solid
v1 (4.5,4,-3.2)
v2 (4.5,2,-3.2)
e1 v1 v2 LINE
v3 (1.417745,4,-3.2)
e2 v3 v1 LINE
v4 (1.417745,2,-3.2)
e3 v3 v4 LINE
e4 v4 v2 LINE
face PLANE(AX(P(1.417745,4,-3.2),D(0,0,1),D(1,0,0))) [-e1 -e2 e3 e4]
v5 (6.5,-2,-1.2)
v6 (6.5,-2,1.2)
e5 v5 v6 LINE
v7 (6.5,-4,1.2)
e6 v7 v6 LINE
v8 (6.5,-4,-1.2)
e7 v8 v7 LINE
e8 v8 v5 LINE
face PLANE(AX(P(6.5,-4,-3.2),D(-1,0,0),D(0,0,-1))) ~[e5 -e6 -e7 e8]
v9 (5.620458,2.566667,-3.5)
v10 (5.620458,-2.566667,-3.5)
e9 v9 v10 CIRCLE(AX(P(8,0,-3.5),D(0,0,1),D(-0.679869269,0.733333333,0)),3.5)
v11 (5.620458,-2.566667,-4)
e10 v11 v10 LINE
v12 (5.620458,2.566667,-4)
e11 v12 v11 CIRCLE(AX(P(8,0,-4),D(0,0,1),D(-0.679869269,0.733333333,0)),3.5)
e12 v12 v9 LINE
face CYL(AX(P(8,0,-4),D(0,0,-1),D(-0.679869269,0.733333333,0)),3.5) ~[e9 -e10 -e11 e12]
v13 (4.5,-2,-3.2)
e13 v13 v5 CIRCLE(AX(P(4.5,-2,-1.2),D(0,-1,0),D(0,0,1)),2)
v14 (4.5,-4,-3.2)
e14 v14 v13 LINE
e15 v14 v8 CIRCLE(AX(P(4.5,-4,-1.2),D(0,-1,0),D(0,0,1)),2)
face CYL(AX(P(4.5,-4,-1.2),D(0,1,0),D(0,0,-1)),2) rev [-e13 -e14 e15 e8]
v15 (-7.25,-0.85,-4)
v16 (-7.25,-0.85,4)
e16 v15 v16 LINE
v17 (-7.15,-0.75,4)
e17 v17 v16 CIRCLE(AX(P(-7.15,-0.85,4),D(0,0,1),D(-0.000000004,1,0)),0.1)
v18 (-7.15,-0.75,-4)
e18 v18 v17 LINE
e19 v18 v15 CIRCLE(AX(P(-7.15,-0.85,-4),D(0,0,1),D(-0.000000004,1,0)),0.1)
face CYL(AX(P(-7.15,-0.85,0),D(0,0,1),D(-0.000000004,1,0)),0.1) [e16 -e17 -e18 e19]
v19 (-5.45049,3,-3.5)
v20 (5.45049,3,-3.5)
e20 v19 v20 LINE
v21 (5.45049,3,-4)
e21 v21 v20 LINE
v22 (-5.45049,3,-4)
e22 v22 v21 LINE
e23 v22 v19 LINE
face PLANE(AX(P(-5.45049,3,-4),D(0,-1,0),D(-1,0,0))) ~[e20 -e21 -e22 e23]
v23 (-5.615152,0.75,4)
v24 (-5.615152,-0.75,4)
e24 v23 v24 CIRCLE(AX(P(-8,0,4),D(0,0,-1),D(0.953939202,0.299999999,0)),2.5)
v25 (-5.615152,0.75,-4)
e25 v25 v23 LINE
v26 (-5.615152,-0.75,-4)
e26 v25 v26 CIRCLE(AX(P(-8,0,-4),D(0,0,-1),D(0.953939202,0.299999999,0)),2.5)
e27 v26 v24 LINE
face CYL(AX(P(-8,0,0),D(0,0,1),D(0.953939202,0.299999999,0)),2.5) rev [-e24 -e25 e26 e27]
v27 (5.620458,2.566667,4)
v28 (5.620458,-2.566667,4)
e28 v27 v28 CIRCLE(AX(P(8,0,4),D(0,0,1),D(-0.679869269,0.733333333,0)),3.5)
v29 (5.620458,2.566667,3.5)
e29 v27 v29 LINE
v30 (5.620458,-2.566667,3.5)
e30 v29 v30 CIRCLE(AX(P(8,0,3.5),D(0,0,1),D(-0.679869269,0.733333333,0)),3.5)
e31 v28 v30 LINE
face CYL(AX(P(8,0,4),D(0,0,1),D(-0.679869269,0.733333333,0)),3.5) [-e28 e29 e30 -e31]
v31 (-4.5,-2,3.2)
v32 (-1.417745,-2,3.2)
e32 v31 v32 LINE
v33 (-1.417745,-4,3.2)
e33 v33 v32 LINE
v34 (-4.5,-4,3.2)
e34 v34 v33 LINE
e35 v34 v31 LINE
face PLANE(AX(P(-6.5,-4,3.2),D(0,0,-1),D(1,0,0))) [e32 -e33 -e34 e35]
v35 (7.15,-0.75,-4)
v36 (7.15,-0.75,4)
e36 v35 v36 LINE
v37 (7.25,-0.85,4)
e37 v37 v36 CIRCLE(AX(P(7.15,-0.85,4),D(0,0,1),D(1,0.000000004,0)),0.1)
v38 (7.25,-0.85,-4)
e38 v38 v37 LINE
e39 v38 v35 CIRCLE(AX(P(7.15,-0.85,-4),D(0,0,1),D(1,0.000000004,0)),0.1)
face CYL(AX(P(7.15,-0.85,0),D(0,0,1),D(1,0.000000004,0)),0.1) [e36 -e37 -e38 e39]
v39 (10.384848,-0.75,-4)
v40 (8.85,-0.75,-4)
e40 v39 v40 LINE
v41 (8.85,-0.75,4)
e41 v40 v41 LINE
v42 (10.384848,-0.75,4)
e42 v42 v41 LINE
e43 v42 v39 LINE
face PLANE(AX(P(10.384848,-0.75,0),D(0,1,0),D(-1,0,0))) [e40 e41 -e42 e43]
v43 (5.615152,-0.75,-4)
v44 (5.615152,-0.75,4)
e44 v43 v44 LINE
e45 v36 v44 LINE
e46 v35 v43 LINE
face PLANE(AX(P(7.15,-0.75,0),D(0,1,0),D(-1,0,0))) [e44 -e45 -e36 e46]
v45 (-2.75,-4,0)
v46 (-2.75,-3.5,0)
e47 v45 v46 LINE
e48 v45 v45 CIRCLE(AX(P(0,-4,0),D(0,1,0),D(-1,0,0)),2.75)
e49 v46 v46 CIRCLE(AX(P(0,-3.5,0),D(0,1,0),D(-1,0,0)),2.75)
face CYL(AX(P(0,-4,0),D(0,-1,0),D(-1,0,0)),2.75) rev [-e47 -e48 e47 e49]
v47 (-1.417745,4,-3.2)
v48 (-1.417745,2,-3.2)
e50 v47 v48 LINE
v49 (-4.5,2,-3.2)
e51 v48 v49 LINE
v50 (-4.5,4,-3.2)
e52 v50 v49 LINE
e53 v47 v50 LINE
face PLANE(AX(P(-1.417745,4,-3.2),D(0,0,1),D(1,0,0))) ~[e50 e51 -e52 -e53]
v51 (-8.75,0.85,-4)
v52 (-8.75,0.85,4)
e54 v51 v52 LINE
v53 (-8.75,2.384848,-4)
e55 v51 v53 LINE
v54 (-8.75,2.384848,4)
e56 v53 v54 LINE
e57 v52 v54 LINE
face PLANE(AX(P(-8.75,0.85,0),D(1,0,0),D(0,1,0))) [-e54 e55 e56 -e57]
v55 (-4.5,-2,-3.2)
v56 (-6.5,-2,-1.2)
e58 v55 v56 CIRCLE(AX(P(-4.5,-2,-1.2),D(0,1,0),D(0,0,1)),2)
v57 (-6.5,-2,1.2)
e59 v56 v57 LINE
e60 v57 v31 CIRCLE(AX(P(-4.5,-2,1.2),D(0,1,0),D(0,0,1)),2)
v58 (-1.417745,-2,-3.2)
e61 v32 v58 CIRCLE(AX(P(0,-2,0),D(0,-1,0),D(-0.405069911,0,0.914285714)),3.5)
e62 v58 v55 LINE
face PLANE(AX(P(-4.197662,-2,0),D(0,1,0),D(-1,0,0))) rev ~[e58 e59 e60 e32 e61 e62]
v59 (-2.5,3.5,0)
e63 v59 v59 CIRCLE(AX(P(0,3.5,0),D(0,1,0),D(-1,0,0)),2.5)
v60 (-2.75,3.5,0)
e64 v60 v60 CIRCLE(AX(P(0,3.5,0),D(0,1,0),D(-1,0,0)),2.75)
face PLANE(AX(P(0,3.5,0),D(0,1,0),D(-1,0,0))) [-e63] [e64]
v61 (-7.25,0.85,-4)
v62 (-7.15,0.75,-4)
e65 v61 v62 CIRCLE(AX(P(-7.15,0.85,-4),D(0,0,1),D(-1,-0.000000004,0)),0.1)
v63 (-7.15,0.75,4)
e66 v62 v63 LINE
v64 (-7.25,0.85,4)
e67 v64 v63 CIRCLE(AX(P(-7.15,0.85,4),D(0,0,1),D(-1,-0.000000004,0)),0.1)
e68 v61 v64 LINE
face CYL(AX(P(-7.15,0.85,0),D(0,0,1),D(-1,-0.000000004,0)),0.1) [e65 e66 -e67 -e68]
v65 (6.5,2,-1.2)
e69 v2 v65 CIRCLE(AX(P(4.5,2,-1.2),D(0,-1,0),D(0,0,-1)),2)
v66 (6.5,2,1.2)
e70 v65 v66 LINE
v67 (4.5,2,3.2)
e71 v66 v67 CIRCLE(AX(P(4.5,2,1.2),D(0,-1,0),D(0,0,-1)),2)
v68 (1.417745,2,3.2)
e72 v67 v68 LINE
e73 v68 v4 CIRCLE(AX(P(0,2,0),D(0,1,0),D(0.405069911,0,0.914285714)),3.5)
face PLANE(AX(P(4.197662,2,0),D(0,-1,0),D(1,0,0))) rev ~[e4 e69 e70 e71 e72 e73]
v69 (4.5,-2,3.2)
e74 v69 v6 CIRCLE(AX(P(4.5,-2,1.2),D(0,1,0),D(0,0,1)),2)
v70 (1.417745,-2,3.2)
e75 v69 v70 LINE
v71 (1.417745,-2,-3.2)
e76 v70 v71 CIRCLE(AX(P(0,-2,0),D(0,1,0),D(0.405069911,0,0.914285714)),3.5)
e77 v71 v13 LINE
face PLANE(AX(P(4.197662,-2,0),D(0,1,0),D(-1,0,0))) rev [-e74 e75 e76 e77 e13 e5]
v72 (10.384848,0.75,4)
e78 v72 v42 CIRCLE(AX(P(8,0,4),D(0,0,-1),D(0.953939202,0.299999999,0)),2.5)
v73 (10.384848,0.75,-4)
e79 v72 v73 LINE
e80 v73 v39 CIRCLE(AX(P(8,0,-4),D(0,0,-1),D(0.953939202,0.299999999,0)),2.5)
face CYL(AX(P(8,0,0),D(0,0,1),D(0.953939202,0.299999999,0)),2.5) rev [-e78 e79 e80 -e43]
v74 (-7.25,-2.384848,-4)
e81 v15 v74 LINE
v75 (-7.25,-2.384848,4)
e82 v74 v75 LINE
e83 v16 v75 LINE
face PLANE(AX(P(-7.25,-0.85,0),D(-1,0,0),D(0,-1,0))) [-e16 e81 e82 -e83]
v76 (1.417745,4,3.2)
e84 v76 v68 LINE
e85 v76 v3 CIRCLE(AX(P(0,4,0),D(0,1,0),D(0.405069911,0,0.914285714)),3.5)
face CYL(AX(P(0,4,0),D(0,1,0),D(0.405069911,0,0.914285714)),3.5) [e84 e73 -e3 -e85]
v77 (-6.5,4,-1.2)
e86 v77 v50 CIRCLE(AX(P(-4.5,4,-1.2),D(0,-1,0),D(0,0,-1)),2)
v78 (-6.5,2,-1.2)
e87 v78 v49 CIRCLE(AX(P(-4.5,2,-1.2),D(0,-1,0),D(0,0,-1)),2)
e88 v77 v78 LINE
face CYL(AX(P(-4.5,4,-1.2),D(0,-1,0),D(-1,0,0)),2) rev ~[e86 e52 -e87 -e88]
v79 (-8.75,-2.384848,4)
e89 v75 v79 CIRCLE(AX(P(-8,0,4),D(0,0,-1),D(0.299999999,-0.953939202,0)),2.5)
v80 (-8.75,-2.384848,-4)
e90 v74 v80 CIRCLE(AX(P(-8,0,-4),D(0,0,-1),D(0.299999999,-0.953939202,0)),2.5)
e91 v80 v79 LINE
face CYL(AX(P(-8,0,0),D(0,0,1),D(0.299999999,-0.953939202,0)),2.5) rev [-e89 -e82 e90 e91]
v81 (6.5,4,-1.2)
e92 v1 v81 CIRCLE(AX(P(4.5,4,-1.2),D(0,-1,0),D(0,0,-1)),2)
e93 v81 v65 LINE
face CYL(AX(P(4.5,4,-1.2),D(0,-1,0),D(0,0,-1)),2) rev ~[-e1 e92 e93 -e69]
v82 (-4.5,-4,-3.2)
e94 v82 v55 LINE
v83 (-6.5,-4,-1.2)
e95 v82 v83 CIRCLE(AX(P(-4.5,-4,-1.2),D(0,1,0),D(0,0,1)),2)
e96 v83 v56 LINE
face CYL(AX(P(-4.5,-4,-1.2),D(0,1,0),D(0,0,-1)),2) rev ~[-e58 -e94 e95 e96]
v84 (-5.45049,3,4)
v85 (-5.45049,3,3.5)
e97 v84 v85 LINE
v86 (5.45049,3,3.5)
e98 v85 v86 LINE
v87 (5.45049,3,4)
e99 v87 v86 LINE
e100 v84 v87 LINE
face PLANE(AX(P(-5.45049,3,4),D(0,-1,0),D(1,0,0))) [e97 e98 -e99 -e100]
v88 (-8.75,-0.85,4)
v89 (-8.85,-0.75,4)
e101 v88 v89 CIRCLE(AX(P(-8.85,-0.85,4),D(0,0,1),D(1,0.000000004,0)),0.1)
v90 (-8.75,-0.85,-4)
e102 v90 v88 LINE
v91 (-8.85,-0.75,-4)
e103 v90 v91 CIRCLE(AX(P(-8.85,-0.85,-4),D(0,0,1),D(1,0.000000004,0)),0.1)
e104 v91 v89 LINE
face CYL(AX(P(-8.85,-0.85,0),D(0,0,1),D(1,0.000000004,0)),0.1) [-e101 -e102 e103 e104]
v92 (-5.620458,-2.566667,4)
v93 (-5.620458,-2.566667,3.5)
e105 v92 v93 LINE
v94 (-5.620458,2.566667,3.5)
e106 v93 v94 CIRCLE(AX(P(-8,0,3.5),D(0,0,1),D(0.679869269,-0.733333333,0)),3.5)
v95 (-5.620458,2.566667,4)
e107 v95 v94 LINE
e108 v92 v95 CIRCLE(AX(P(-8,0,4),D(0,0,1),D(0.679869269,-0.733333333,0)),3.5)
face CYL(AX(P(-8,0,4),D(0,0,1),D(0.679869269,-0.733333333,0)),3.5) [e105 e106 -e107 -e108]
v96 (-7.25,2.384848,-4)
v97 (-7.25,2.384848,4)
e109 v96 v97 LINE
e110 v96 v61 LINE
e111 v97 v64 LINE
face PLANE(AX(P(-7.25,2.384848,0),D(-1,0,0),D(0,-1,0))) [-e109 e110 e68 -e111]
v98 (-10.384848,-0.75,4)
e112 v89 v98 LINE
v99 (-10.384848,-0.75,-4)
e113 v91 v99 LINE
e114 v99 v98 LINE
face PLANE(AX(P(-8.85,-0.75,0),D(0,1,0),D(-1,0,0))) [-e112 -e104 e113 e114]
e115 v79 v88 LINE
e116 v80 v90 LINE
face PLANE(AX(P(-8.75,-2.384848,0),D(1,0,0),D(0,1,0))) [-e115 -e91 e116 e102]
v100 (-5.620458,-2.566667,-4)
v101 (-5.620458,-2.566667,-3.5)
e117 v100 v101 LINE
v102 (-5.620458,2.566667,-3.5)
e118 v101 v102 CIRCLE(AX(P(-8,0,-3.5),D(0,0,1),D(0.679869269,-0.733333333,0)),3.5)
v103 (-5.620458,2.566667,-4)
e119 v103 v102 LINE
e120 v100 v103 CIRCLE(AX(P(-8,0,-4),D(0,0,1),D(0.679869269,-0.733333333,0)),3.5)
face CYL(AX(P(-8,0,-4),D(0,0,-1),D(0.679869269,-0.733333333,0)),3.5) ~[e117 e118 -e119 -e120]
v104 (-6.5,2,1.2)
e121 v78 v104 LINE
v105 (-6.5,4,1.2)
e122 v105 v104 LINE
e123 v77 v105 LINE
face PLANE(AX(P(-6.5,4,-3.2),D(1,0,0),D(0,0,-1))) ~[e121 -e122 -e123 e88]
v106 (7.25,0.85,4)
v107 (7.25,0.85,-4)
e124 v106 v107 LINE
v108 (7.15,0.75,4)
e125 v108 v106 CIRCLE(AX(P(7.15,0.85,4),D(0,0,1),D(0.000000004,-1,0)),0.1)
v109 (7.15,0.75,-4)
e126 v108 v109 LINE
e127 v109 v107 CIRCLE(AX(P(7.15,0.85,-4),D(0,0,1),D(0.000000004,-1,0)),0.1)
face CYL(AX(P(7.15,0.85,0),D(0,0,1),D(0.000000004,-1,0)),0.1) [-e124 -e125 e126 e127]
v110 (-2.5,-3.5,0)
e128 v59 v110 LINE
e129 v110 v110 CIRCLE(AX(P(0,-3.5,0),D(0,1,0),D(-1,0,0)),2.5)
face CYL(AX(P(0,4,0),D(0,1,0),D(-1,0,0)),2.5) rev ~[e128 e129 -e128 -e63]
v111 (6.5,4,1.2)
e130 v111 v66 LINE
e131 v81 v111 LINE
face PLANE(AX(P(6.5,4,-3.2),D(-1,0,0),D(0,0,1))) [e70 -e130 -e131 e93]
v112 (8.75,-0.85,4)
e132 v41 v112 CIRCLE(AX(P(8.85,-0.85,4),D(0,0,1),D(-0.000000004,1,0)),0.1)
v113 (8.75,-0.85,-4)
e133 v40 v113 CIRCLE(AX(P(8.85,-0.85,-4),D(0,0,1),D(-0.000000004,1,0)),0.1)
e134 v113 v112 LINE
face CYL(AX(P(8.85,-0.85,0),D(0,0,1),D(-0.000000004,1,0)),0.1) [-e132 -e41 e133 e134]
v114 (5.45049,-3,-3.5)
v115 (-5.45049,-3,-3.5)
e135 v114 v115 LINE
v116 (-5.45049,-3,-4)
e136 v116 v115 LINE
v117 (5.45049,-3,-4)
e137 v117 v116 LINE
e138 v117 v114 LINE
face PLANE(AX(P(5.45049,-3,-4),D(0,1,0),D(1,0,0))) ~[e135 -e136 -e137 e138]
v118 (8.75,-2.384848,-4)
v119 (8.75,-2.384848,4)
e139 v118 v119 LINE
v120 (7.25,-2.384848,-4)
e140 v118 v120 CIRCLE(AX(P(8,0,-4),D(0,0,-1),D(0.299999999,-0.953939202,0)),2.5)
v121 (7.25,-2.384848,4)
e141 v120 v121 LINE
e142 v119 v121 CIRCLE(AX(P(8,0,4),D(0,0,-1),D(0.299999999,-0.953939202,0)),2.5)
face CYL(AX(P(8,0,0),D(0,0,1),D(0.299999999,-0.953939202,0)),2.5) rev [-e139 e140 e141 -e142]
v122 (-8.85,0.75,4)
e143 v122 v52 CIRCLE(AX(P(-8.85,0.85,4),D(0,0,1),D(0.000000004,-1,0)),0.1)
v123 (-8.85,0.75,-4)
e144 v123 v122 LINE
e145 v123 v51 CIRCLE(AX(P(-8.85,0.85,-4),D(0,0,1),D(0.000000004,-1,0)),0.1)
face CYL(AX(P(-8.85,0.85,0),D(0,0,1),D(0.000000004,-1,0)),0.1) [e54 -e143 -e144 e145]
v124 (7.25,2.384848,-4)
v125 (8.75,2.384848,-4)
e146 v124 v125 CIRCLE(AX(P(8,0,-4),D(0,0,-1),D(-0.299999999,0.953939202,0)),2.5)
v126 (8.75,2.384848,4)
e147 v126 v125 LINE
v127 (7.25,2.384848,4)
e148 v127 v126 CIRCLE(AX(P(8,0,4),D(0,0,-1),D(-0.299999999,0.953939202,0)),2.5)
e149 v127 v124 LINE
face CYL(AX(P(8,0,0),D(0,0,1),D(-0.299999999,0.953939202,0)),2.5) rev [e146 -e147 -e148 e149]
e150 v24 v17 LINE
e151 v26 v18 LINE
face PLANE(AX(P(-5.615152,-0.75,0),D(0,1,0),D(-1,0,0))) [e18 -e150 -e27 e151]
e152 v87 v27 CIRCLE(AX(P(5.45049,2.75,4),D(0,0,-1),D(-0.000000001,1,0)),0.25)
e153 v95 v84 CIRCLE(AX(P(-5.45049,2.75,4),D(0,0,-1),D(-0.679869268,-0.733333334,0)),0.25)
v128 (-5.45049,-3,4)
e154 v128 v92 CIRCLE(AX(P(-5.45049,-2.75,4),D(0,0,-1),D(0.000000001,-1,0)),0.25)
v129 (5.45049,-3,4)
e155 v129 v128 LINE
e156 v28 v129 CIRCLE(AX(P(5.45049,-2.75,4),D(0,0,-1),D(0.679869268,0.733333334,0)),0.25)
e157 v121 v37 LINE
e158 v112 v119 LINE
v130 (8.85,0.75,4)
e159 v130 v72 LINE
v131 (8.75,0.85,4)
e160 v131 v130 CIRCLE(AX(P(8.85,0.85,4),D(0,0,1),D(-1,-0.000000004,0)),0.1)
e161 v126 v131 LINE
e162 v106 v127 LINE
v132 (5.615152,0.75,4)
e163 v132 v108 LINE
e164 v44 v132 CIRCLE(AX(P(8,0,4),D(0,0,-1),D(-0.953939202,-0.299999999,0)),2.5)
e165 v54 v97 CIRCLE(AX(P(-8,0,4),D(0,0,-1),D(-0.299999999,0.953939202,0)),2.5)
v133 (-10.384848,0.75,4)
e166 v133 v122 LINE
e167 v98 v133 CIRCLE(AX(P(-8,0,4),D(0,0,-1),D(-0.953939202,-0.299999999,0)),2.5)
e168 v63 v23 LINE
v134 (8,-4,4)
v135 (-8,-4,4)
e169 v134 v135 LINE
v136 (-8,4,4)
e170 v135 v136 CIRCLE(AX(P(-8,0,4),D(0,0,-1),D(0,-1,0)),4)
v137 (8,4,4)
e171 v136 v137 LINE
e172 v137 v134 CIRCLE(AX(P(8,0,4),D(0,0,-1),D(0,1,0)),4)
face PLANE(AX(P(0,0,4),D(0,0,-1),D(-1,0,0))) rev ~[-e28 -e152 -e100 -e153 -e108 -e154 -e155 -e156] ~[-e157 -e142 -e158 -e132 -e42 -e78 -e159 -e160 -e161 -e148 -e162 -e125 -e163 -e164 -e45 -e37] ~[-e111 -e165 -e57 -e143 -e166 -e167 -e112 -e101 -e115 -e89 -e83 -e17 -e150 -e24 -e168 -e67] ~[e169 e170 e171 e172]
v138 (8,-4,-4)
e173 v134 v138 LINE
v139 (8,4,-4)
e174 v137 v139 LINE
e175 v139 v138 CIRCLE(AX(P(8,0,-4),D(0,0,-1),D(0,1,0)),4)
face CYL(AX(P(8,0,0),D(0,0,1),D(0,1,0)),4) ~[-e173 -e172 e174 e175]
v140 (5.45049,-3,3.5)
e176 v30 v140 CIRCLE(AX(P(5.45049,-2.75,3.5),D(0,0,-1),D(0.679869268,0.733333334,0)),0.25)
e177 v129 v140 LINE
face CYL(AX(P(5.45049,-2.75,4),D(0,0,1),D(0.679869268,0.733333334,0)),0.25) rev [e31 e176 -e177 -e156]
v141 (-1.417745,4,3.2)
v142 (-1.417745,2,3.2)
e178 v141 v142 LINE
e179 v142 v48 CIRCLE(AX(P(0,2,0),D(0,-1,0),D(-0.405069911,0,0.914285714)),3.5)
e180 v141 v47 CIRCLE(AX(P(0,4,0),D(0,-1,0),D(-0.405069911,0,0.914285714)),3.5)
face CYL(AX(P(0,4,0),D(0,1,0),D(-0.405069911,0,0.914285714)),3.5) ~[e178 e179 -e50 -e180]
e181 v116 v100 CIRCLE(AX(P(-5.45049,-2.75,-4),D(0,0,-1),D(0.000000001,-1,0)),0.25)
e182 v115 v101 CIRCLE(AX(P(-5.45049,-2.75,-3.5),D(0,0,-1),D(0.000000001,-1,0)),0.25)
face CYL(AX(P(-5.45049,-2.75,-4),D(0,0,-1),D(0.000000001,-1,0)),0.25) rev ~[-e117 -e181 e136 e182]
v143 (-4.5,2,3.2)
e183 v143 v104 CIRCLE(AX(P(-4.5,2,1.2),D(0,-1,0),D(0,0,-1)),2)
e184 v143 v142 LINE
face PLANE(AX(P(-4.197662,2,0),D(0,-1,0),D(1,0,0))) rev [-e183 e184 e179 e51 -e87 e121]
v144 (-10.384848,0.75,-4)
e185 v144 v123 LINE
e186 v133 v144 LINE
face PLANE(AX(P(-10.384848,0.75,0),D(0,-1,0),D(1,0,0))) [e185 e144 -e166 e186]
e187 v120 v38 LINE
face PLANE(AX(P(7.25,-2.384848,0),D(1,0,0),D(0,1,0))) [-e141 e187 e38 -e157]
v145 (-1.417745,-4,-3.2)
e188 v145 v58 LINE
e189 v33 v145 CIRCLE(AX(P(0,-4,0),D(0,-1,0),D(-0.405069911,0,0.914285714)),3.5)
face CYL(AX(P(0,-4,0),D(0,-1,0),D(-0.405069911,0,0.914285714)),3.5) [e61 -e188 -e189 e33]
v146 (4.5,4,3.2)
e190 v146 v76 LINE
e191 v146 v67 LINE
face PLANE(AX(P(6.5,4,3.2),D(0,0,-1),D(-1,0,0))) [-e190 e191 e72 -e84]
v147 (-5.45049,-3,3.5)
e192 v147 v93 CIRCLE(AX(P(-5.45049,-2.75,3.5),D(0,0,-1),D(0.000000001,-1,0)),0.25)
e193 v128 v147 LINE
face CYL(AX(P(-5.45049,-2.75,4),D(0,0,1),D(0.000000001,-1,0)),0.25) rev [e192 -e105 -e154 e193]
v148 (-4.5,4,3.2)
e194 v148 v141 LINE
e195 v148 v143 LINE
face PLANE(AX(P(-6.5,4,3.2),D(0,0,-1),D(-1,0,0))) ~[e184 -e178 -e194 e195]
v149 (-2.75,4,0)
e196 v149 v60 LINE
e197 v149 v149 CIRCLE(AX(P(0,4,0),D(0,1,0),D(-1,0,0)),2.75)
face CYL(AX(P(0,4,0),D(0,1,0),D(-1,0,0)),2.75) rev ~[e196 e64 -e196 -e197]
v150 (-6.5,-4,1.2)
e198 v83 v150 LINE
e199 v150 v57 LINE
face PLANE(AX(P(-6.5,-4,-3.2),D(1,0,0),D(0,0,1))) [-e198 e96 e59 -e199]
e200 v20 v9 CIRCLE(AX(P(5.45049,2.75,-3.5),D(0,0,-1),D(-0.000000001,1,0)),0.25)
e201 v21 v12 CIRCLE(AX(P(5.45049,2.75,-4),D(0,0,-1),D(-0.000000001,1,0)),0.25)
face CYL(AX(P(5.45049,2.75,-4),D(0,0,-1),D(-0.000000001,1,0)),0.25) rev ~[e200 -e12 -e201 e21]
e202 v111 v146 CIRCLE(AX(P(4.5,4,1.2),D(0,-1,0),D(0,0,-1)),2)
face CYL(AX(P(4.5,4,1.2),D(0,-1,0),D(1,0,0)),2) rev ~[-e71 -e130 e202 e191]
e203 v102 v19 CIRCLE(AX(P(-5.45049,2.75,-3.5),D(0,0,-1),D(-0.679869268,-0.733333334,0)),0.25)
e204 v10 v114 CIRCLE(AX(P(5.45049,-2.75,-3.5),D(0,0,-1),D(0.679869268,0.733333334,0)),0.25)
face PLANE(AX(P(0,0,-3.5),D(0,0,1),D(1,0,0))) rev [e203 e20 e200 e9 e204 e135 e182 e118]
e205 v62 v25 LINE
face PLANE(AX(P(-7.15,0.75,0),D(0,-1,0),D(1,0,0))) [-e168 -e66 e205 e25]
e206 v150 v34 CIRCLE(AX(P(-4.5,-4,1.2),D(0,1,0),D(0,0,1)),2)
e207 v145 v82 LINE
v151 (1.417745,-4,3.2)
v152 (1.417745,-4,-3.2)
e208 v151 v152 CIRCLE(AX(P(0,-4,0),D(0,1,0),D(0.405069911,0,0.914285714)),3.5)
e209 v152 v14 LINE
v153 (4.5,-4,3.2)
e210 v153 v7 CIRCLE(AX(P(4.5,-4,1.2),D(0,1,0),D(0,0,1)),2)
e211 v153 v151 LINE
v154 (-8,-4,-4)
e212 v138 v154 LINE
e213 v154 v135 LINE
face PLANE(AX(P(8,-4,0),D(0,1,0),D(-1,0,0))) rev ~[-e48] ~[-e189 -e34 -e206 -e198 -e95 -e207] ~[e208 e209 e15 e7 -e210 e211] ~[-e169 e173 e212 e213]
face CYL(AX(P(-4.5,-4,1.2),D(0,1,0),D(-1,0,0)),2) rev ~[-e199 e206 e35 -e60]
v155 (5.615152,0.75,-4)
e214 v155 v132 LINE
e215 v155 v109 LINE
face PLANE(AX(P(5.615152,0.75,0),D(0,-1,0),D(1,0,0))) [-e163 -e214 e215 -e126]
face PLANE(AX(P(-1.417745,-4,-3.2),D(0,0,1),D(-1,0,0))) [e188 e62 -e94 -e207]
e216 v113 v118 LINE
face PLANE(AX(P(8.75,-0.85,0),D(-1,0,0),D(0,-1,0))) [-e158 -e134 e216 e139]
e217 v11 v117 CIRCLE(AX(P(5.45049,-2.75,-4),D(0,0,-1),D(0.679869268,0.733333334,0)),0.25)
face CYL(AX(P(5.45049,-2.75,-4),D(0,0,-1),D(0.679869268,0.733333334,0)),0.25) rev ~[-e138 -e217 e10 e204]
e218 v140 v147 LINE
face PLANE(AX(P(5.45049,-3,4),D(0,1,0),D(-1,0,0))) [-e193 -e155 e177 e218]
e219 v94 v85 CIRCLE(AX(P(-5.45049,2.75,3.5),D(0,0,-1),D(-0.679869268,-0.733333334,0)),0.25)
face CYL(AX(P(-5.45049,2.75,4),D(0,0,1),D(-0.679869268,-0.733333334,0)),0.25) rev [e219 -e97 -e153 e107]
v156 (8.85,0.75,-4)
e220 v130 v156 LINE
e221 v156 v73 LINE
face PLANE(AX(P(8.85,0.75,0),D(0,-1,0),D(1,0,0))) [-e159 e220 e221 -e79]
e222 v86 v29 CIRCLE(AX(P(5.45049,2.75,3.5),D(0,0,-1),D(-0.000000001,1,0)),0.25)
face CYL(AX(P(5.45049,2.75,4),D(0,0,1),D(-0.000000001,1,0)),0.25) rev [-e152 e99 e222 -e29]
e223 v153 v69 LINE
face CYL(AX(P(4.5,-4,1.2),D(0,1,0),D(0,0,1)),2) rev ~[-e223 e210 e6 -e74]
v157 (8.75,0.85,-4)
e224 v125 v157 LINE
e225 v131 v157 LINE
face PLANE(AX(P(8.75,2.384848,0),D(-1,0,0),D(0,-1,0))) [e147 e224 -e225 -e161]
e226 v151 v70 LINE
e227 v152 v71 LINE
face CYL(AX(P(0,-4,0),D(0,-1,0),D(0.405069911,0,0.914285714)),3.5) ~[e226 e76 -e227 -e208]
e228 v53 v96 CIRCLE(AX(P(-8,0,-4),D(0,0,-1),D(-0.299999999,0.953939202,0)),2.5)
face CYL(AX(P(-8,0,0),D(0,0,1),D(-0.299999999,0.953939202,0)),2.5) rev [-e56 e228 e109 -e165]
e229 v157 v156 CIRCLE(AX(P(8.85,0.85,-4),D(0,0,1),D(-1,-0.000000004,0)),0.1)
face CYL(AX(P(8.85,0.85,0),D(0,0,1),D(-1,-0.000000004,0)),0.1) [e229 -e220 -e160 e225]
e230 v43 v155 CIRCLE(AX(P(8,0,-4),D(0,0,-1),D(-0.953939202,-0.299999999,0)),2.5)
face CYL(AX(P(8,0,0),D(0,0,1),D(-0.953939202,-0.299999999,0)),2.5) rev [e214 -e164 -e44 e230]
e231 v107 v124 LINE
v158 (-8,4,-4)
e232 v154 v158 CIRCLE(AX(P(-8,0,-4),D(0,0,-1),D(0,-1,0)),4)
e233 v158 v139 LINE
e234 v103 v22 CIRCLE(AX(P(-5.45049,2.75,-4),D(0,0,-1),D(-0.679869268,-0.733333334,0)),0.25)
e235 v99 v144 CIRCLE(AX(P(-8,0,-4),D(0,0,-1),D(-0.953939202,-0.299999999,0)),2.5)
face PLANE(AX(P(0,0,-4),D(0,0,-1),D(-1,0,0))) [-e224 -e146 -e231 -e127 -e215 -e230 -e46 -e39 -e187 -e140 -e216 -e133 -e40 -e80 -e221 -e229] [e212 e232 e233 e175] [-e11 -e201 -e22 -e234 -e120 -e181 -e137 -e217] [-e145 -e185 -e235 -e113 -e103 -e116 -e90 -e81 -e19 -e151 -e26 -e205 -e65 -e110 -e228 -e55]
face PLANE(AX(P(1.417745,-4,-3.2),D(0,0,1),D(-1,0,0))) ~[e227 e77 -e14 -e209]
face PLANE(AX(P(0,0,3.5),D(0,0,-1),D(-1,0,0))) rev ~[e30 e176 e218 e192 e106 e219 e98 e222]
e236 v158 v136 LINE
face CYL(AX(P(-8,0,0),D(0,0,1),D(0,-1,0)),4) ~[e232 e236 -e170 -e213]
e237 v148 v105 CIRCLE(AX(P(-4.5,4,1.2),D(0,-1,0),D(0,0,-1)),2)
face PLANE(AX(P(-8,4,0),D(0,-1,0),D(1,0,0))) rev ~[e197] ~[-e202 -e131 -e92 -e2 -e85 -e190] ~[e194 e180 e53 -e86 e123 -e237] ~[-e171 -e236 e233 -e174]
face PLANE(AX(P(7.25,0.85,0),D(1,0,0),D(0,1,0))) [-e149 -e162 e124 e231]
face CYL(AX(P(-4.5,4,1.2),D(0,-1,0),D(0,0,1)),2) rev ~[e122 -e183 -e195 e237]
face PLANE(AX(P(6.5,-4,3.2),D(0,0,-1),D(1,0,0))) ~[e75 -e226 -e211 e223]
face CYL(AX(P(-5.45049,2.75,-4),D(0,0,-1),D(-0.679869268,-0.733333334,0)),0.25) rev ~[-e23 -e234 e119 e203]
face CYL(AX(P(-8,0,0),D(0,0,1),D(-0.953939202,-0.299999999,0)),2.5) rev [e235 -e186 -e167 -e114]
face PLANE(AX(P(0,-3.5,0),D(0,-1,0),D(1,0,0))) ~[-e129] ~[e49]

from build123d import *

# Parameters (mm, degrees)
EXTRUIR1_DEPTH         = 4
CROQUIS2_R             = 2.5
CORTAR_EXTRUIR1_DEPTH  = 9
CROQUIS3_R             = 2.75
CORTAR_EXTRUIR2_DEPTH  = 0.5
CORTAR_EXTRUIR3_DEPTH  = 2
SIMETR_A3_COPY_1_DEPTH = 2
REDONDEO1_R            = 2
CORTAR_EXTRUIR4_DEPTH  = 0.5


with BuildPart() as part:
    # Croquis1 → Extruir1 (new body, symmetric)
    with BuildSketch(Plane.XY):
        with BuildLine():
            Line((-8, 4), (8, 4))
            ThreePointArc((8, 4), (12, 0), (8, -4))
            Line((8, -4), (-8, -4))
            ThreePointArc((-8, -4), (-12, 0), (-8, 4))
        make_face()
        with BuildLine():
            Line((10.384848004, -0.75), (8.85, -0.75))
            ThreePointArc((8.85, -0.75), (8.779289322, -0.779289322), (8.75, -0.85))
            Line((8.75, -0.85), (8.75, -2.384848004))
            ThreePointArc((8.75, -2.384848004), (8, -2.5), (7.25, -2.384848004))
            Line((7.25, -2.384848004), (7.25, -0.85))
            ThreePointArc((7.25, -0.85), (7.220710678, -0.779289322), (7.15, -0.75))
            Line((7.15, -0.75), (5.615151996, -0.75))
            ThreePointArc((5.615151996, -0.75), (5.5, 0), (5.615151996, 0.75))
            Line((5.615151996, 0.75), (7.15, 0.75))
            ThreePointArc((7.15, 0.75), (7.220710678, 0.779289322), (7.25, 0.85))
            Line((7.25, 0.85), (7.25, 2.384848004))
            ThreePointArc((7.25, 2.384848004), (8, 2.5), (8.75, 2.384848004))
            Line((8.75, 2.384848004), (8.75, 0.85))
            ThreePointArc((8.75, 0.85), (8.779289322, 0.779289322), (8.85, 0.75))
            Line((8.85, 0.75), (10.384848004, 0.75))
            ThreePointArc((10.384848004, 0.75), (10.5, 0), (10.384848004, -0.75))
        make_face(mode=Mode.SUBTRACT)
        with BuildLine():
            Line((-10.384848004, 0.75), (-8.85, 0.75))
            ThreePointArc((-8.85, 0.75), (-8.779289322, 0.779289322), (-8.75, 0.85))
            Line((-8.75, 0.85), (-8.75, 2.384848004))
            ThreePointArc((-8.75, 2.384848004), (-8, 2.5), (-7.25, 2.384848004))
            Line((-7.25, 2.384848004), (-7.25, 0.85))
            ThreePointArc((-7.25, 0.85), (-7.220710678, 0.779289322), (-7.15, 0.75))
            Line((-7.15, 0.75), (-5.615151996, 0.75))
            ThreePointArc((-5.615151996, 0.75), (-5.5, 0), (-5.615151996, -0.75))
            Line((-5.615151996, -0.75), (-7.15, -0.75))
            ThreePointArc((-7.15, -0.75), (-7.220710678, -0.779289322), (-7.25, -0.85))
            Line((-7.25, -0.85), (-7.25, -2.384848004))
            ThreePointArc((-7.25, -2.384848004), (-8, -2.5), (-8.75, -2.384848004))
            Line((-8.75, -2.384848004), (-8.75, -0.85))
            ThreePointArc((-8.75, -0.85), (-8.779289322, -0.779289322), (-8.85, -0.75))
            Line((-8.85, -0.75), (-10.384848004, -0.75))
            ThreePointArc((-10.384848004, -0.75), (-10.5, 0), (-10.384848004, 0.75))
        make_face(mode=Mode.SUBTRACT)
    extrude(amount=EXTRUIR1_DEPTH, both=True)

    # Croquis2 → Cortar-Extruir1 (cut, through all)
    with BuildSketch(Plane(origin=(0, 4, 0), x_dir=(-1, 0, 0), z_dir=(0, 1, 0))):
        Circle(CROQUIS2_R)
    extrude(amount=-CORTAR_EXTRUIR1_DEPTH, mode=Mode.SUBTRACT)

    # Croquis3 → Cortar-Extruir2 (cut)
    with BuildSketch(Plane(origin=(0, 4, 0), x_dir=(-1, 0, 0), z_dir=(0, 1, 0))):
        Circle(CROQUIS3_R)
    cortar_extruir2 = extrude(amount=-CORTAR_EXTRUIR2_DEPTH, mode=Mode.SUBTRACT)

    # Simetría1: Cortar-Extruir2 across plane
    add(cortar_extruir2.mirror(Plane.ZX), mode=Mode.SUBTRACT)

    # Croquis4 → Cortar-Extruir3 (cut)
    with BuildSketch(Plane(origin=(0, 4, 0), x_dir=(-1, 0, 0), z_dir=(0, 1, 0))):
        with BuildLine():
            Line((-1.417744688, -3.2), (-6.5, -3.2))
            Line((-6.5, -3.2), (-6.5, 3.2))
            Line((-6.5, 3.2), (-1.417744688, 3.2))
            ThreePointArc((-1.417744688, 3.2), (-3.5, 0), (-1.417744688, -3.2))
        make_face()
    cortar_extruir3 = extrude(amount=-CORTAR_EXTRUIR3_DEPTH, mode=Mode.SUBTRACT)

    # Simetría2: Cortar-Extruir3 across plane
    add(cortar_extruir3.mirror(Plane(origin=(0, 0, 0), x_dir=(0, 0, 1), z_dir=(1, 0, 0))), mode=Mode.SUBTRACT)

    # Simetría3: Cortar-Extruir3 across plane
    add(cortar_extruir3.mirror(Plane.ZX), mode=Mode.SUBTRACT)

    # Simetría3 copy 1 sketch → Simetría3 copy 1 (cut)
    with BuildSketch(Plane.XZ.offset(4)):
        with BuildLine():
            Line((-1.417744688, -3.2), (-6.5, -3.2))
            Line((-6.5, -3.2), (-6.5, 3.2))
            Line((-6.5, 3.2), (-1.417744688, 3.2))
            ThreePointArc((-1.417744688, 3.2), (-3.5, 0), (-1.417744688, -3.2))
        make_face()
    extrude(amount=-SIMETR_A3_COPY_1_DEPTH, mode=Mode.SUBTRACT)

    # Redondeo1
    redondeo1_edges = [part.edges().sort_by_distance(p)[0] for p in [
        (6.5, 3, -3.2),
        (6.5, 3, 3.2),
        (-6.5, 3, 3.2),
        (-6.5, 3, -3.2),
        (-6.5, -3, -3.2),
        (-6.5, -3, 3.2),
        (6.5, -3, 3.2),
        (6.5, -3, -3.2),
    ]]
    fillet(redondeo1_edges, radius=REDONDEO1_R)

    # Croquis5 → Cortar-Extruir4 (cut)
    with BuildSketch(Plane.XY.offset(4)):
        with BuildLine():
            Line((-5.450490243, 3), (5.450490243, 3))
            ThreePointArc((5.450490243, 3), (5.683227577, 2.841287093), (5.62045756, 2.566666667))
            ThreePointArc((5.62045756, 2.566666667), (4.5, 0), (5.62045756, -2.566666667))
            ThreePointArc((5.62045756, -2.566666667), (5.683227577, -2.841287093), (5.450490243, -3))
            Line((5.450490243, -3), (-5.450490243, -3))
            ThreePointArc((-5.450490243, -3), (-5.683227577, -2.841287093), (-5.62045756, -2.566666667))
            ThreePointArc((-5.62045756, -2.566666667), (-4.5, 0), (-5.62045756, 2.566666667))
            ThreePointArc((-5.62045756, 2.566666667), (-5.683227577, 2.841287093), (-5.450490243, 3))
        make_face()
    cortar_extruir4 = extrude(amount=-CORTAR_EXTRUIR4_DEPTH, mode=Mode.SUBTRACT)

    # Simetría4: Cortar-Extruir4 across plane
    add(cortar_extruir4.mirror(Plane.XY), mode=Mode.SUBTRACT)


solid = part.part
